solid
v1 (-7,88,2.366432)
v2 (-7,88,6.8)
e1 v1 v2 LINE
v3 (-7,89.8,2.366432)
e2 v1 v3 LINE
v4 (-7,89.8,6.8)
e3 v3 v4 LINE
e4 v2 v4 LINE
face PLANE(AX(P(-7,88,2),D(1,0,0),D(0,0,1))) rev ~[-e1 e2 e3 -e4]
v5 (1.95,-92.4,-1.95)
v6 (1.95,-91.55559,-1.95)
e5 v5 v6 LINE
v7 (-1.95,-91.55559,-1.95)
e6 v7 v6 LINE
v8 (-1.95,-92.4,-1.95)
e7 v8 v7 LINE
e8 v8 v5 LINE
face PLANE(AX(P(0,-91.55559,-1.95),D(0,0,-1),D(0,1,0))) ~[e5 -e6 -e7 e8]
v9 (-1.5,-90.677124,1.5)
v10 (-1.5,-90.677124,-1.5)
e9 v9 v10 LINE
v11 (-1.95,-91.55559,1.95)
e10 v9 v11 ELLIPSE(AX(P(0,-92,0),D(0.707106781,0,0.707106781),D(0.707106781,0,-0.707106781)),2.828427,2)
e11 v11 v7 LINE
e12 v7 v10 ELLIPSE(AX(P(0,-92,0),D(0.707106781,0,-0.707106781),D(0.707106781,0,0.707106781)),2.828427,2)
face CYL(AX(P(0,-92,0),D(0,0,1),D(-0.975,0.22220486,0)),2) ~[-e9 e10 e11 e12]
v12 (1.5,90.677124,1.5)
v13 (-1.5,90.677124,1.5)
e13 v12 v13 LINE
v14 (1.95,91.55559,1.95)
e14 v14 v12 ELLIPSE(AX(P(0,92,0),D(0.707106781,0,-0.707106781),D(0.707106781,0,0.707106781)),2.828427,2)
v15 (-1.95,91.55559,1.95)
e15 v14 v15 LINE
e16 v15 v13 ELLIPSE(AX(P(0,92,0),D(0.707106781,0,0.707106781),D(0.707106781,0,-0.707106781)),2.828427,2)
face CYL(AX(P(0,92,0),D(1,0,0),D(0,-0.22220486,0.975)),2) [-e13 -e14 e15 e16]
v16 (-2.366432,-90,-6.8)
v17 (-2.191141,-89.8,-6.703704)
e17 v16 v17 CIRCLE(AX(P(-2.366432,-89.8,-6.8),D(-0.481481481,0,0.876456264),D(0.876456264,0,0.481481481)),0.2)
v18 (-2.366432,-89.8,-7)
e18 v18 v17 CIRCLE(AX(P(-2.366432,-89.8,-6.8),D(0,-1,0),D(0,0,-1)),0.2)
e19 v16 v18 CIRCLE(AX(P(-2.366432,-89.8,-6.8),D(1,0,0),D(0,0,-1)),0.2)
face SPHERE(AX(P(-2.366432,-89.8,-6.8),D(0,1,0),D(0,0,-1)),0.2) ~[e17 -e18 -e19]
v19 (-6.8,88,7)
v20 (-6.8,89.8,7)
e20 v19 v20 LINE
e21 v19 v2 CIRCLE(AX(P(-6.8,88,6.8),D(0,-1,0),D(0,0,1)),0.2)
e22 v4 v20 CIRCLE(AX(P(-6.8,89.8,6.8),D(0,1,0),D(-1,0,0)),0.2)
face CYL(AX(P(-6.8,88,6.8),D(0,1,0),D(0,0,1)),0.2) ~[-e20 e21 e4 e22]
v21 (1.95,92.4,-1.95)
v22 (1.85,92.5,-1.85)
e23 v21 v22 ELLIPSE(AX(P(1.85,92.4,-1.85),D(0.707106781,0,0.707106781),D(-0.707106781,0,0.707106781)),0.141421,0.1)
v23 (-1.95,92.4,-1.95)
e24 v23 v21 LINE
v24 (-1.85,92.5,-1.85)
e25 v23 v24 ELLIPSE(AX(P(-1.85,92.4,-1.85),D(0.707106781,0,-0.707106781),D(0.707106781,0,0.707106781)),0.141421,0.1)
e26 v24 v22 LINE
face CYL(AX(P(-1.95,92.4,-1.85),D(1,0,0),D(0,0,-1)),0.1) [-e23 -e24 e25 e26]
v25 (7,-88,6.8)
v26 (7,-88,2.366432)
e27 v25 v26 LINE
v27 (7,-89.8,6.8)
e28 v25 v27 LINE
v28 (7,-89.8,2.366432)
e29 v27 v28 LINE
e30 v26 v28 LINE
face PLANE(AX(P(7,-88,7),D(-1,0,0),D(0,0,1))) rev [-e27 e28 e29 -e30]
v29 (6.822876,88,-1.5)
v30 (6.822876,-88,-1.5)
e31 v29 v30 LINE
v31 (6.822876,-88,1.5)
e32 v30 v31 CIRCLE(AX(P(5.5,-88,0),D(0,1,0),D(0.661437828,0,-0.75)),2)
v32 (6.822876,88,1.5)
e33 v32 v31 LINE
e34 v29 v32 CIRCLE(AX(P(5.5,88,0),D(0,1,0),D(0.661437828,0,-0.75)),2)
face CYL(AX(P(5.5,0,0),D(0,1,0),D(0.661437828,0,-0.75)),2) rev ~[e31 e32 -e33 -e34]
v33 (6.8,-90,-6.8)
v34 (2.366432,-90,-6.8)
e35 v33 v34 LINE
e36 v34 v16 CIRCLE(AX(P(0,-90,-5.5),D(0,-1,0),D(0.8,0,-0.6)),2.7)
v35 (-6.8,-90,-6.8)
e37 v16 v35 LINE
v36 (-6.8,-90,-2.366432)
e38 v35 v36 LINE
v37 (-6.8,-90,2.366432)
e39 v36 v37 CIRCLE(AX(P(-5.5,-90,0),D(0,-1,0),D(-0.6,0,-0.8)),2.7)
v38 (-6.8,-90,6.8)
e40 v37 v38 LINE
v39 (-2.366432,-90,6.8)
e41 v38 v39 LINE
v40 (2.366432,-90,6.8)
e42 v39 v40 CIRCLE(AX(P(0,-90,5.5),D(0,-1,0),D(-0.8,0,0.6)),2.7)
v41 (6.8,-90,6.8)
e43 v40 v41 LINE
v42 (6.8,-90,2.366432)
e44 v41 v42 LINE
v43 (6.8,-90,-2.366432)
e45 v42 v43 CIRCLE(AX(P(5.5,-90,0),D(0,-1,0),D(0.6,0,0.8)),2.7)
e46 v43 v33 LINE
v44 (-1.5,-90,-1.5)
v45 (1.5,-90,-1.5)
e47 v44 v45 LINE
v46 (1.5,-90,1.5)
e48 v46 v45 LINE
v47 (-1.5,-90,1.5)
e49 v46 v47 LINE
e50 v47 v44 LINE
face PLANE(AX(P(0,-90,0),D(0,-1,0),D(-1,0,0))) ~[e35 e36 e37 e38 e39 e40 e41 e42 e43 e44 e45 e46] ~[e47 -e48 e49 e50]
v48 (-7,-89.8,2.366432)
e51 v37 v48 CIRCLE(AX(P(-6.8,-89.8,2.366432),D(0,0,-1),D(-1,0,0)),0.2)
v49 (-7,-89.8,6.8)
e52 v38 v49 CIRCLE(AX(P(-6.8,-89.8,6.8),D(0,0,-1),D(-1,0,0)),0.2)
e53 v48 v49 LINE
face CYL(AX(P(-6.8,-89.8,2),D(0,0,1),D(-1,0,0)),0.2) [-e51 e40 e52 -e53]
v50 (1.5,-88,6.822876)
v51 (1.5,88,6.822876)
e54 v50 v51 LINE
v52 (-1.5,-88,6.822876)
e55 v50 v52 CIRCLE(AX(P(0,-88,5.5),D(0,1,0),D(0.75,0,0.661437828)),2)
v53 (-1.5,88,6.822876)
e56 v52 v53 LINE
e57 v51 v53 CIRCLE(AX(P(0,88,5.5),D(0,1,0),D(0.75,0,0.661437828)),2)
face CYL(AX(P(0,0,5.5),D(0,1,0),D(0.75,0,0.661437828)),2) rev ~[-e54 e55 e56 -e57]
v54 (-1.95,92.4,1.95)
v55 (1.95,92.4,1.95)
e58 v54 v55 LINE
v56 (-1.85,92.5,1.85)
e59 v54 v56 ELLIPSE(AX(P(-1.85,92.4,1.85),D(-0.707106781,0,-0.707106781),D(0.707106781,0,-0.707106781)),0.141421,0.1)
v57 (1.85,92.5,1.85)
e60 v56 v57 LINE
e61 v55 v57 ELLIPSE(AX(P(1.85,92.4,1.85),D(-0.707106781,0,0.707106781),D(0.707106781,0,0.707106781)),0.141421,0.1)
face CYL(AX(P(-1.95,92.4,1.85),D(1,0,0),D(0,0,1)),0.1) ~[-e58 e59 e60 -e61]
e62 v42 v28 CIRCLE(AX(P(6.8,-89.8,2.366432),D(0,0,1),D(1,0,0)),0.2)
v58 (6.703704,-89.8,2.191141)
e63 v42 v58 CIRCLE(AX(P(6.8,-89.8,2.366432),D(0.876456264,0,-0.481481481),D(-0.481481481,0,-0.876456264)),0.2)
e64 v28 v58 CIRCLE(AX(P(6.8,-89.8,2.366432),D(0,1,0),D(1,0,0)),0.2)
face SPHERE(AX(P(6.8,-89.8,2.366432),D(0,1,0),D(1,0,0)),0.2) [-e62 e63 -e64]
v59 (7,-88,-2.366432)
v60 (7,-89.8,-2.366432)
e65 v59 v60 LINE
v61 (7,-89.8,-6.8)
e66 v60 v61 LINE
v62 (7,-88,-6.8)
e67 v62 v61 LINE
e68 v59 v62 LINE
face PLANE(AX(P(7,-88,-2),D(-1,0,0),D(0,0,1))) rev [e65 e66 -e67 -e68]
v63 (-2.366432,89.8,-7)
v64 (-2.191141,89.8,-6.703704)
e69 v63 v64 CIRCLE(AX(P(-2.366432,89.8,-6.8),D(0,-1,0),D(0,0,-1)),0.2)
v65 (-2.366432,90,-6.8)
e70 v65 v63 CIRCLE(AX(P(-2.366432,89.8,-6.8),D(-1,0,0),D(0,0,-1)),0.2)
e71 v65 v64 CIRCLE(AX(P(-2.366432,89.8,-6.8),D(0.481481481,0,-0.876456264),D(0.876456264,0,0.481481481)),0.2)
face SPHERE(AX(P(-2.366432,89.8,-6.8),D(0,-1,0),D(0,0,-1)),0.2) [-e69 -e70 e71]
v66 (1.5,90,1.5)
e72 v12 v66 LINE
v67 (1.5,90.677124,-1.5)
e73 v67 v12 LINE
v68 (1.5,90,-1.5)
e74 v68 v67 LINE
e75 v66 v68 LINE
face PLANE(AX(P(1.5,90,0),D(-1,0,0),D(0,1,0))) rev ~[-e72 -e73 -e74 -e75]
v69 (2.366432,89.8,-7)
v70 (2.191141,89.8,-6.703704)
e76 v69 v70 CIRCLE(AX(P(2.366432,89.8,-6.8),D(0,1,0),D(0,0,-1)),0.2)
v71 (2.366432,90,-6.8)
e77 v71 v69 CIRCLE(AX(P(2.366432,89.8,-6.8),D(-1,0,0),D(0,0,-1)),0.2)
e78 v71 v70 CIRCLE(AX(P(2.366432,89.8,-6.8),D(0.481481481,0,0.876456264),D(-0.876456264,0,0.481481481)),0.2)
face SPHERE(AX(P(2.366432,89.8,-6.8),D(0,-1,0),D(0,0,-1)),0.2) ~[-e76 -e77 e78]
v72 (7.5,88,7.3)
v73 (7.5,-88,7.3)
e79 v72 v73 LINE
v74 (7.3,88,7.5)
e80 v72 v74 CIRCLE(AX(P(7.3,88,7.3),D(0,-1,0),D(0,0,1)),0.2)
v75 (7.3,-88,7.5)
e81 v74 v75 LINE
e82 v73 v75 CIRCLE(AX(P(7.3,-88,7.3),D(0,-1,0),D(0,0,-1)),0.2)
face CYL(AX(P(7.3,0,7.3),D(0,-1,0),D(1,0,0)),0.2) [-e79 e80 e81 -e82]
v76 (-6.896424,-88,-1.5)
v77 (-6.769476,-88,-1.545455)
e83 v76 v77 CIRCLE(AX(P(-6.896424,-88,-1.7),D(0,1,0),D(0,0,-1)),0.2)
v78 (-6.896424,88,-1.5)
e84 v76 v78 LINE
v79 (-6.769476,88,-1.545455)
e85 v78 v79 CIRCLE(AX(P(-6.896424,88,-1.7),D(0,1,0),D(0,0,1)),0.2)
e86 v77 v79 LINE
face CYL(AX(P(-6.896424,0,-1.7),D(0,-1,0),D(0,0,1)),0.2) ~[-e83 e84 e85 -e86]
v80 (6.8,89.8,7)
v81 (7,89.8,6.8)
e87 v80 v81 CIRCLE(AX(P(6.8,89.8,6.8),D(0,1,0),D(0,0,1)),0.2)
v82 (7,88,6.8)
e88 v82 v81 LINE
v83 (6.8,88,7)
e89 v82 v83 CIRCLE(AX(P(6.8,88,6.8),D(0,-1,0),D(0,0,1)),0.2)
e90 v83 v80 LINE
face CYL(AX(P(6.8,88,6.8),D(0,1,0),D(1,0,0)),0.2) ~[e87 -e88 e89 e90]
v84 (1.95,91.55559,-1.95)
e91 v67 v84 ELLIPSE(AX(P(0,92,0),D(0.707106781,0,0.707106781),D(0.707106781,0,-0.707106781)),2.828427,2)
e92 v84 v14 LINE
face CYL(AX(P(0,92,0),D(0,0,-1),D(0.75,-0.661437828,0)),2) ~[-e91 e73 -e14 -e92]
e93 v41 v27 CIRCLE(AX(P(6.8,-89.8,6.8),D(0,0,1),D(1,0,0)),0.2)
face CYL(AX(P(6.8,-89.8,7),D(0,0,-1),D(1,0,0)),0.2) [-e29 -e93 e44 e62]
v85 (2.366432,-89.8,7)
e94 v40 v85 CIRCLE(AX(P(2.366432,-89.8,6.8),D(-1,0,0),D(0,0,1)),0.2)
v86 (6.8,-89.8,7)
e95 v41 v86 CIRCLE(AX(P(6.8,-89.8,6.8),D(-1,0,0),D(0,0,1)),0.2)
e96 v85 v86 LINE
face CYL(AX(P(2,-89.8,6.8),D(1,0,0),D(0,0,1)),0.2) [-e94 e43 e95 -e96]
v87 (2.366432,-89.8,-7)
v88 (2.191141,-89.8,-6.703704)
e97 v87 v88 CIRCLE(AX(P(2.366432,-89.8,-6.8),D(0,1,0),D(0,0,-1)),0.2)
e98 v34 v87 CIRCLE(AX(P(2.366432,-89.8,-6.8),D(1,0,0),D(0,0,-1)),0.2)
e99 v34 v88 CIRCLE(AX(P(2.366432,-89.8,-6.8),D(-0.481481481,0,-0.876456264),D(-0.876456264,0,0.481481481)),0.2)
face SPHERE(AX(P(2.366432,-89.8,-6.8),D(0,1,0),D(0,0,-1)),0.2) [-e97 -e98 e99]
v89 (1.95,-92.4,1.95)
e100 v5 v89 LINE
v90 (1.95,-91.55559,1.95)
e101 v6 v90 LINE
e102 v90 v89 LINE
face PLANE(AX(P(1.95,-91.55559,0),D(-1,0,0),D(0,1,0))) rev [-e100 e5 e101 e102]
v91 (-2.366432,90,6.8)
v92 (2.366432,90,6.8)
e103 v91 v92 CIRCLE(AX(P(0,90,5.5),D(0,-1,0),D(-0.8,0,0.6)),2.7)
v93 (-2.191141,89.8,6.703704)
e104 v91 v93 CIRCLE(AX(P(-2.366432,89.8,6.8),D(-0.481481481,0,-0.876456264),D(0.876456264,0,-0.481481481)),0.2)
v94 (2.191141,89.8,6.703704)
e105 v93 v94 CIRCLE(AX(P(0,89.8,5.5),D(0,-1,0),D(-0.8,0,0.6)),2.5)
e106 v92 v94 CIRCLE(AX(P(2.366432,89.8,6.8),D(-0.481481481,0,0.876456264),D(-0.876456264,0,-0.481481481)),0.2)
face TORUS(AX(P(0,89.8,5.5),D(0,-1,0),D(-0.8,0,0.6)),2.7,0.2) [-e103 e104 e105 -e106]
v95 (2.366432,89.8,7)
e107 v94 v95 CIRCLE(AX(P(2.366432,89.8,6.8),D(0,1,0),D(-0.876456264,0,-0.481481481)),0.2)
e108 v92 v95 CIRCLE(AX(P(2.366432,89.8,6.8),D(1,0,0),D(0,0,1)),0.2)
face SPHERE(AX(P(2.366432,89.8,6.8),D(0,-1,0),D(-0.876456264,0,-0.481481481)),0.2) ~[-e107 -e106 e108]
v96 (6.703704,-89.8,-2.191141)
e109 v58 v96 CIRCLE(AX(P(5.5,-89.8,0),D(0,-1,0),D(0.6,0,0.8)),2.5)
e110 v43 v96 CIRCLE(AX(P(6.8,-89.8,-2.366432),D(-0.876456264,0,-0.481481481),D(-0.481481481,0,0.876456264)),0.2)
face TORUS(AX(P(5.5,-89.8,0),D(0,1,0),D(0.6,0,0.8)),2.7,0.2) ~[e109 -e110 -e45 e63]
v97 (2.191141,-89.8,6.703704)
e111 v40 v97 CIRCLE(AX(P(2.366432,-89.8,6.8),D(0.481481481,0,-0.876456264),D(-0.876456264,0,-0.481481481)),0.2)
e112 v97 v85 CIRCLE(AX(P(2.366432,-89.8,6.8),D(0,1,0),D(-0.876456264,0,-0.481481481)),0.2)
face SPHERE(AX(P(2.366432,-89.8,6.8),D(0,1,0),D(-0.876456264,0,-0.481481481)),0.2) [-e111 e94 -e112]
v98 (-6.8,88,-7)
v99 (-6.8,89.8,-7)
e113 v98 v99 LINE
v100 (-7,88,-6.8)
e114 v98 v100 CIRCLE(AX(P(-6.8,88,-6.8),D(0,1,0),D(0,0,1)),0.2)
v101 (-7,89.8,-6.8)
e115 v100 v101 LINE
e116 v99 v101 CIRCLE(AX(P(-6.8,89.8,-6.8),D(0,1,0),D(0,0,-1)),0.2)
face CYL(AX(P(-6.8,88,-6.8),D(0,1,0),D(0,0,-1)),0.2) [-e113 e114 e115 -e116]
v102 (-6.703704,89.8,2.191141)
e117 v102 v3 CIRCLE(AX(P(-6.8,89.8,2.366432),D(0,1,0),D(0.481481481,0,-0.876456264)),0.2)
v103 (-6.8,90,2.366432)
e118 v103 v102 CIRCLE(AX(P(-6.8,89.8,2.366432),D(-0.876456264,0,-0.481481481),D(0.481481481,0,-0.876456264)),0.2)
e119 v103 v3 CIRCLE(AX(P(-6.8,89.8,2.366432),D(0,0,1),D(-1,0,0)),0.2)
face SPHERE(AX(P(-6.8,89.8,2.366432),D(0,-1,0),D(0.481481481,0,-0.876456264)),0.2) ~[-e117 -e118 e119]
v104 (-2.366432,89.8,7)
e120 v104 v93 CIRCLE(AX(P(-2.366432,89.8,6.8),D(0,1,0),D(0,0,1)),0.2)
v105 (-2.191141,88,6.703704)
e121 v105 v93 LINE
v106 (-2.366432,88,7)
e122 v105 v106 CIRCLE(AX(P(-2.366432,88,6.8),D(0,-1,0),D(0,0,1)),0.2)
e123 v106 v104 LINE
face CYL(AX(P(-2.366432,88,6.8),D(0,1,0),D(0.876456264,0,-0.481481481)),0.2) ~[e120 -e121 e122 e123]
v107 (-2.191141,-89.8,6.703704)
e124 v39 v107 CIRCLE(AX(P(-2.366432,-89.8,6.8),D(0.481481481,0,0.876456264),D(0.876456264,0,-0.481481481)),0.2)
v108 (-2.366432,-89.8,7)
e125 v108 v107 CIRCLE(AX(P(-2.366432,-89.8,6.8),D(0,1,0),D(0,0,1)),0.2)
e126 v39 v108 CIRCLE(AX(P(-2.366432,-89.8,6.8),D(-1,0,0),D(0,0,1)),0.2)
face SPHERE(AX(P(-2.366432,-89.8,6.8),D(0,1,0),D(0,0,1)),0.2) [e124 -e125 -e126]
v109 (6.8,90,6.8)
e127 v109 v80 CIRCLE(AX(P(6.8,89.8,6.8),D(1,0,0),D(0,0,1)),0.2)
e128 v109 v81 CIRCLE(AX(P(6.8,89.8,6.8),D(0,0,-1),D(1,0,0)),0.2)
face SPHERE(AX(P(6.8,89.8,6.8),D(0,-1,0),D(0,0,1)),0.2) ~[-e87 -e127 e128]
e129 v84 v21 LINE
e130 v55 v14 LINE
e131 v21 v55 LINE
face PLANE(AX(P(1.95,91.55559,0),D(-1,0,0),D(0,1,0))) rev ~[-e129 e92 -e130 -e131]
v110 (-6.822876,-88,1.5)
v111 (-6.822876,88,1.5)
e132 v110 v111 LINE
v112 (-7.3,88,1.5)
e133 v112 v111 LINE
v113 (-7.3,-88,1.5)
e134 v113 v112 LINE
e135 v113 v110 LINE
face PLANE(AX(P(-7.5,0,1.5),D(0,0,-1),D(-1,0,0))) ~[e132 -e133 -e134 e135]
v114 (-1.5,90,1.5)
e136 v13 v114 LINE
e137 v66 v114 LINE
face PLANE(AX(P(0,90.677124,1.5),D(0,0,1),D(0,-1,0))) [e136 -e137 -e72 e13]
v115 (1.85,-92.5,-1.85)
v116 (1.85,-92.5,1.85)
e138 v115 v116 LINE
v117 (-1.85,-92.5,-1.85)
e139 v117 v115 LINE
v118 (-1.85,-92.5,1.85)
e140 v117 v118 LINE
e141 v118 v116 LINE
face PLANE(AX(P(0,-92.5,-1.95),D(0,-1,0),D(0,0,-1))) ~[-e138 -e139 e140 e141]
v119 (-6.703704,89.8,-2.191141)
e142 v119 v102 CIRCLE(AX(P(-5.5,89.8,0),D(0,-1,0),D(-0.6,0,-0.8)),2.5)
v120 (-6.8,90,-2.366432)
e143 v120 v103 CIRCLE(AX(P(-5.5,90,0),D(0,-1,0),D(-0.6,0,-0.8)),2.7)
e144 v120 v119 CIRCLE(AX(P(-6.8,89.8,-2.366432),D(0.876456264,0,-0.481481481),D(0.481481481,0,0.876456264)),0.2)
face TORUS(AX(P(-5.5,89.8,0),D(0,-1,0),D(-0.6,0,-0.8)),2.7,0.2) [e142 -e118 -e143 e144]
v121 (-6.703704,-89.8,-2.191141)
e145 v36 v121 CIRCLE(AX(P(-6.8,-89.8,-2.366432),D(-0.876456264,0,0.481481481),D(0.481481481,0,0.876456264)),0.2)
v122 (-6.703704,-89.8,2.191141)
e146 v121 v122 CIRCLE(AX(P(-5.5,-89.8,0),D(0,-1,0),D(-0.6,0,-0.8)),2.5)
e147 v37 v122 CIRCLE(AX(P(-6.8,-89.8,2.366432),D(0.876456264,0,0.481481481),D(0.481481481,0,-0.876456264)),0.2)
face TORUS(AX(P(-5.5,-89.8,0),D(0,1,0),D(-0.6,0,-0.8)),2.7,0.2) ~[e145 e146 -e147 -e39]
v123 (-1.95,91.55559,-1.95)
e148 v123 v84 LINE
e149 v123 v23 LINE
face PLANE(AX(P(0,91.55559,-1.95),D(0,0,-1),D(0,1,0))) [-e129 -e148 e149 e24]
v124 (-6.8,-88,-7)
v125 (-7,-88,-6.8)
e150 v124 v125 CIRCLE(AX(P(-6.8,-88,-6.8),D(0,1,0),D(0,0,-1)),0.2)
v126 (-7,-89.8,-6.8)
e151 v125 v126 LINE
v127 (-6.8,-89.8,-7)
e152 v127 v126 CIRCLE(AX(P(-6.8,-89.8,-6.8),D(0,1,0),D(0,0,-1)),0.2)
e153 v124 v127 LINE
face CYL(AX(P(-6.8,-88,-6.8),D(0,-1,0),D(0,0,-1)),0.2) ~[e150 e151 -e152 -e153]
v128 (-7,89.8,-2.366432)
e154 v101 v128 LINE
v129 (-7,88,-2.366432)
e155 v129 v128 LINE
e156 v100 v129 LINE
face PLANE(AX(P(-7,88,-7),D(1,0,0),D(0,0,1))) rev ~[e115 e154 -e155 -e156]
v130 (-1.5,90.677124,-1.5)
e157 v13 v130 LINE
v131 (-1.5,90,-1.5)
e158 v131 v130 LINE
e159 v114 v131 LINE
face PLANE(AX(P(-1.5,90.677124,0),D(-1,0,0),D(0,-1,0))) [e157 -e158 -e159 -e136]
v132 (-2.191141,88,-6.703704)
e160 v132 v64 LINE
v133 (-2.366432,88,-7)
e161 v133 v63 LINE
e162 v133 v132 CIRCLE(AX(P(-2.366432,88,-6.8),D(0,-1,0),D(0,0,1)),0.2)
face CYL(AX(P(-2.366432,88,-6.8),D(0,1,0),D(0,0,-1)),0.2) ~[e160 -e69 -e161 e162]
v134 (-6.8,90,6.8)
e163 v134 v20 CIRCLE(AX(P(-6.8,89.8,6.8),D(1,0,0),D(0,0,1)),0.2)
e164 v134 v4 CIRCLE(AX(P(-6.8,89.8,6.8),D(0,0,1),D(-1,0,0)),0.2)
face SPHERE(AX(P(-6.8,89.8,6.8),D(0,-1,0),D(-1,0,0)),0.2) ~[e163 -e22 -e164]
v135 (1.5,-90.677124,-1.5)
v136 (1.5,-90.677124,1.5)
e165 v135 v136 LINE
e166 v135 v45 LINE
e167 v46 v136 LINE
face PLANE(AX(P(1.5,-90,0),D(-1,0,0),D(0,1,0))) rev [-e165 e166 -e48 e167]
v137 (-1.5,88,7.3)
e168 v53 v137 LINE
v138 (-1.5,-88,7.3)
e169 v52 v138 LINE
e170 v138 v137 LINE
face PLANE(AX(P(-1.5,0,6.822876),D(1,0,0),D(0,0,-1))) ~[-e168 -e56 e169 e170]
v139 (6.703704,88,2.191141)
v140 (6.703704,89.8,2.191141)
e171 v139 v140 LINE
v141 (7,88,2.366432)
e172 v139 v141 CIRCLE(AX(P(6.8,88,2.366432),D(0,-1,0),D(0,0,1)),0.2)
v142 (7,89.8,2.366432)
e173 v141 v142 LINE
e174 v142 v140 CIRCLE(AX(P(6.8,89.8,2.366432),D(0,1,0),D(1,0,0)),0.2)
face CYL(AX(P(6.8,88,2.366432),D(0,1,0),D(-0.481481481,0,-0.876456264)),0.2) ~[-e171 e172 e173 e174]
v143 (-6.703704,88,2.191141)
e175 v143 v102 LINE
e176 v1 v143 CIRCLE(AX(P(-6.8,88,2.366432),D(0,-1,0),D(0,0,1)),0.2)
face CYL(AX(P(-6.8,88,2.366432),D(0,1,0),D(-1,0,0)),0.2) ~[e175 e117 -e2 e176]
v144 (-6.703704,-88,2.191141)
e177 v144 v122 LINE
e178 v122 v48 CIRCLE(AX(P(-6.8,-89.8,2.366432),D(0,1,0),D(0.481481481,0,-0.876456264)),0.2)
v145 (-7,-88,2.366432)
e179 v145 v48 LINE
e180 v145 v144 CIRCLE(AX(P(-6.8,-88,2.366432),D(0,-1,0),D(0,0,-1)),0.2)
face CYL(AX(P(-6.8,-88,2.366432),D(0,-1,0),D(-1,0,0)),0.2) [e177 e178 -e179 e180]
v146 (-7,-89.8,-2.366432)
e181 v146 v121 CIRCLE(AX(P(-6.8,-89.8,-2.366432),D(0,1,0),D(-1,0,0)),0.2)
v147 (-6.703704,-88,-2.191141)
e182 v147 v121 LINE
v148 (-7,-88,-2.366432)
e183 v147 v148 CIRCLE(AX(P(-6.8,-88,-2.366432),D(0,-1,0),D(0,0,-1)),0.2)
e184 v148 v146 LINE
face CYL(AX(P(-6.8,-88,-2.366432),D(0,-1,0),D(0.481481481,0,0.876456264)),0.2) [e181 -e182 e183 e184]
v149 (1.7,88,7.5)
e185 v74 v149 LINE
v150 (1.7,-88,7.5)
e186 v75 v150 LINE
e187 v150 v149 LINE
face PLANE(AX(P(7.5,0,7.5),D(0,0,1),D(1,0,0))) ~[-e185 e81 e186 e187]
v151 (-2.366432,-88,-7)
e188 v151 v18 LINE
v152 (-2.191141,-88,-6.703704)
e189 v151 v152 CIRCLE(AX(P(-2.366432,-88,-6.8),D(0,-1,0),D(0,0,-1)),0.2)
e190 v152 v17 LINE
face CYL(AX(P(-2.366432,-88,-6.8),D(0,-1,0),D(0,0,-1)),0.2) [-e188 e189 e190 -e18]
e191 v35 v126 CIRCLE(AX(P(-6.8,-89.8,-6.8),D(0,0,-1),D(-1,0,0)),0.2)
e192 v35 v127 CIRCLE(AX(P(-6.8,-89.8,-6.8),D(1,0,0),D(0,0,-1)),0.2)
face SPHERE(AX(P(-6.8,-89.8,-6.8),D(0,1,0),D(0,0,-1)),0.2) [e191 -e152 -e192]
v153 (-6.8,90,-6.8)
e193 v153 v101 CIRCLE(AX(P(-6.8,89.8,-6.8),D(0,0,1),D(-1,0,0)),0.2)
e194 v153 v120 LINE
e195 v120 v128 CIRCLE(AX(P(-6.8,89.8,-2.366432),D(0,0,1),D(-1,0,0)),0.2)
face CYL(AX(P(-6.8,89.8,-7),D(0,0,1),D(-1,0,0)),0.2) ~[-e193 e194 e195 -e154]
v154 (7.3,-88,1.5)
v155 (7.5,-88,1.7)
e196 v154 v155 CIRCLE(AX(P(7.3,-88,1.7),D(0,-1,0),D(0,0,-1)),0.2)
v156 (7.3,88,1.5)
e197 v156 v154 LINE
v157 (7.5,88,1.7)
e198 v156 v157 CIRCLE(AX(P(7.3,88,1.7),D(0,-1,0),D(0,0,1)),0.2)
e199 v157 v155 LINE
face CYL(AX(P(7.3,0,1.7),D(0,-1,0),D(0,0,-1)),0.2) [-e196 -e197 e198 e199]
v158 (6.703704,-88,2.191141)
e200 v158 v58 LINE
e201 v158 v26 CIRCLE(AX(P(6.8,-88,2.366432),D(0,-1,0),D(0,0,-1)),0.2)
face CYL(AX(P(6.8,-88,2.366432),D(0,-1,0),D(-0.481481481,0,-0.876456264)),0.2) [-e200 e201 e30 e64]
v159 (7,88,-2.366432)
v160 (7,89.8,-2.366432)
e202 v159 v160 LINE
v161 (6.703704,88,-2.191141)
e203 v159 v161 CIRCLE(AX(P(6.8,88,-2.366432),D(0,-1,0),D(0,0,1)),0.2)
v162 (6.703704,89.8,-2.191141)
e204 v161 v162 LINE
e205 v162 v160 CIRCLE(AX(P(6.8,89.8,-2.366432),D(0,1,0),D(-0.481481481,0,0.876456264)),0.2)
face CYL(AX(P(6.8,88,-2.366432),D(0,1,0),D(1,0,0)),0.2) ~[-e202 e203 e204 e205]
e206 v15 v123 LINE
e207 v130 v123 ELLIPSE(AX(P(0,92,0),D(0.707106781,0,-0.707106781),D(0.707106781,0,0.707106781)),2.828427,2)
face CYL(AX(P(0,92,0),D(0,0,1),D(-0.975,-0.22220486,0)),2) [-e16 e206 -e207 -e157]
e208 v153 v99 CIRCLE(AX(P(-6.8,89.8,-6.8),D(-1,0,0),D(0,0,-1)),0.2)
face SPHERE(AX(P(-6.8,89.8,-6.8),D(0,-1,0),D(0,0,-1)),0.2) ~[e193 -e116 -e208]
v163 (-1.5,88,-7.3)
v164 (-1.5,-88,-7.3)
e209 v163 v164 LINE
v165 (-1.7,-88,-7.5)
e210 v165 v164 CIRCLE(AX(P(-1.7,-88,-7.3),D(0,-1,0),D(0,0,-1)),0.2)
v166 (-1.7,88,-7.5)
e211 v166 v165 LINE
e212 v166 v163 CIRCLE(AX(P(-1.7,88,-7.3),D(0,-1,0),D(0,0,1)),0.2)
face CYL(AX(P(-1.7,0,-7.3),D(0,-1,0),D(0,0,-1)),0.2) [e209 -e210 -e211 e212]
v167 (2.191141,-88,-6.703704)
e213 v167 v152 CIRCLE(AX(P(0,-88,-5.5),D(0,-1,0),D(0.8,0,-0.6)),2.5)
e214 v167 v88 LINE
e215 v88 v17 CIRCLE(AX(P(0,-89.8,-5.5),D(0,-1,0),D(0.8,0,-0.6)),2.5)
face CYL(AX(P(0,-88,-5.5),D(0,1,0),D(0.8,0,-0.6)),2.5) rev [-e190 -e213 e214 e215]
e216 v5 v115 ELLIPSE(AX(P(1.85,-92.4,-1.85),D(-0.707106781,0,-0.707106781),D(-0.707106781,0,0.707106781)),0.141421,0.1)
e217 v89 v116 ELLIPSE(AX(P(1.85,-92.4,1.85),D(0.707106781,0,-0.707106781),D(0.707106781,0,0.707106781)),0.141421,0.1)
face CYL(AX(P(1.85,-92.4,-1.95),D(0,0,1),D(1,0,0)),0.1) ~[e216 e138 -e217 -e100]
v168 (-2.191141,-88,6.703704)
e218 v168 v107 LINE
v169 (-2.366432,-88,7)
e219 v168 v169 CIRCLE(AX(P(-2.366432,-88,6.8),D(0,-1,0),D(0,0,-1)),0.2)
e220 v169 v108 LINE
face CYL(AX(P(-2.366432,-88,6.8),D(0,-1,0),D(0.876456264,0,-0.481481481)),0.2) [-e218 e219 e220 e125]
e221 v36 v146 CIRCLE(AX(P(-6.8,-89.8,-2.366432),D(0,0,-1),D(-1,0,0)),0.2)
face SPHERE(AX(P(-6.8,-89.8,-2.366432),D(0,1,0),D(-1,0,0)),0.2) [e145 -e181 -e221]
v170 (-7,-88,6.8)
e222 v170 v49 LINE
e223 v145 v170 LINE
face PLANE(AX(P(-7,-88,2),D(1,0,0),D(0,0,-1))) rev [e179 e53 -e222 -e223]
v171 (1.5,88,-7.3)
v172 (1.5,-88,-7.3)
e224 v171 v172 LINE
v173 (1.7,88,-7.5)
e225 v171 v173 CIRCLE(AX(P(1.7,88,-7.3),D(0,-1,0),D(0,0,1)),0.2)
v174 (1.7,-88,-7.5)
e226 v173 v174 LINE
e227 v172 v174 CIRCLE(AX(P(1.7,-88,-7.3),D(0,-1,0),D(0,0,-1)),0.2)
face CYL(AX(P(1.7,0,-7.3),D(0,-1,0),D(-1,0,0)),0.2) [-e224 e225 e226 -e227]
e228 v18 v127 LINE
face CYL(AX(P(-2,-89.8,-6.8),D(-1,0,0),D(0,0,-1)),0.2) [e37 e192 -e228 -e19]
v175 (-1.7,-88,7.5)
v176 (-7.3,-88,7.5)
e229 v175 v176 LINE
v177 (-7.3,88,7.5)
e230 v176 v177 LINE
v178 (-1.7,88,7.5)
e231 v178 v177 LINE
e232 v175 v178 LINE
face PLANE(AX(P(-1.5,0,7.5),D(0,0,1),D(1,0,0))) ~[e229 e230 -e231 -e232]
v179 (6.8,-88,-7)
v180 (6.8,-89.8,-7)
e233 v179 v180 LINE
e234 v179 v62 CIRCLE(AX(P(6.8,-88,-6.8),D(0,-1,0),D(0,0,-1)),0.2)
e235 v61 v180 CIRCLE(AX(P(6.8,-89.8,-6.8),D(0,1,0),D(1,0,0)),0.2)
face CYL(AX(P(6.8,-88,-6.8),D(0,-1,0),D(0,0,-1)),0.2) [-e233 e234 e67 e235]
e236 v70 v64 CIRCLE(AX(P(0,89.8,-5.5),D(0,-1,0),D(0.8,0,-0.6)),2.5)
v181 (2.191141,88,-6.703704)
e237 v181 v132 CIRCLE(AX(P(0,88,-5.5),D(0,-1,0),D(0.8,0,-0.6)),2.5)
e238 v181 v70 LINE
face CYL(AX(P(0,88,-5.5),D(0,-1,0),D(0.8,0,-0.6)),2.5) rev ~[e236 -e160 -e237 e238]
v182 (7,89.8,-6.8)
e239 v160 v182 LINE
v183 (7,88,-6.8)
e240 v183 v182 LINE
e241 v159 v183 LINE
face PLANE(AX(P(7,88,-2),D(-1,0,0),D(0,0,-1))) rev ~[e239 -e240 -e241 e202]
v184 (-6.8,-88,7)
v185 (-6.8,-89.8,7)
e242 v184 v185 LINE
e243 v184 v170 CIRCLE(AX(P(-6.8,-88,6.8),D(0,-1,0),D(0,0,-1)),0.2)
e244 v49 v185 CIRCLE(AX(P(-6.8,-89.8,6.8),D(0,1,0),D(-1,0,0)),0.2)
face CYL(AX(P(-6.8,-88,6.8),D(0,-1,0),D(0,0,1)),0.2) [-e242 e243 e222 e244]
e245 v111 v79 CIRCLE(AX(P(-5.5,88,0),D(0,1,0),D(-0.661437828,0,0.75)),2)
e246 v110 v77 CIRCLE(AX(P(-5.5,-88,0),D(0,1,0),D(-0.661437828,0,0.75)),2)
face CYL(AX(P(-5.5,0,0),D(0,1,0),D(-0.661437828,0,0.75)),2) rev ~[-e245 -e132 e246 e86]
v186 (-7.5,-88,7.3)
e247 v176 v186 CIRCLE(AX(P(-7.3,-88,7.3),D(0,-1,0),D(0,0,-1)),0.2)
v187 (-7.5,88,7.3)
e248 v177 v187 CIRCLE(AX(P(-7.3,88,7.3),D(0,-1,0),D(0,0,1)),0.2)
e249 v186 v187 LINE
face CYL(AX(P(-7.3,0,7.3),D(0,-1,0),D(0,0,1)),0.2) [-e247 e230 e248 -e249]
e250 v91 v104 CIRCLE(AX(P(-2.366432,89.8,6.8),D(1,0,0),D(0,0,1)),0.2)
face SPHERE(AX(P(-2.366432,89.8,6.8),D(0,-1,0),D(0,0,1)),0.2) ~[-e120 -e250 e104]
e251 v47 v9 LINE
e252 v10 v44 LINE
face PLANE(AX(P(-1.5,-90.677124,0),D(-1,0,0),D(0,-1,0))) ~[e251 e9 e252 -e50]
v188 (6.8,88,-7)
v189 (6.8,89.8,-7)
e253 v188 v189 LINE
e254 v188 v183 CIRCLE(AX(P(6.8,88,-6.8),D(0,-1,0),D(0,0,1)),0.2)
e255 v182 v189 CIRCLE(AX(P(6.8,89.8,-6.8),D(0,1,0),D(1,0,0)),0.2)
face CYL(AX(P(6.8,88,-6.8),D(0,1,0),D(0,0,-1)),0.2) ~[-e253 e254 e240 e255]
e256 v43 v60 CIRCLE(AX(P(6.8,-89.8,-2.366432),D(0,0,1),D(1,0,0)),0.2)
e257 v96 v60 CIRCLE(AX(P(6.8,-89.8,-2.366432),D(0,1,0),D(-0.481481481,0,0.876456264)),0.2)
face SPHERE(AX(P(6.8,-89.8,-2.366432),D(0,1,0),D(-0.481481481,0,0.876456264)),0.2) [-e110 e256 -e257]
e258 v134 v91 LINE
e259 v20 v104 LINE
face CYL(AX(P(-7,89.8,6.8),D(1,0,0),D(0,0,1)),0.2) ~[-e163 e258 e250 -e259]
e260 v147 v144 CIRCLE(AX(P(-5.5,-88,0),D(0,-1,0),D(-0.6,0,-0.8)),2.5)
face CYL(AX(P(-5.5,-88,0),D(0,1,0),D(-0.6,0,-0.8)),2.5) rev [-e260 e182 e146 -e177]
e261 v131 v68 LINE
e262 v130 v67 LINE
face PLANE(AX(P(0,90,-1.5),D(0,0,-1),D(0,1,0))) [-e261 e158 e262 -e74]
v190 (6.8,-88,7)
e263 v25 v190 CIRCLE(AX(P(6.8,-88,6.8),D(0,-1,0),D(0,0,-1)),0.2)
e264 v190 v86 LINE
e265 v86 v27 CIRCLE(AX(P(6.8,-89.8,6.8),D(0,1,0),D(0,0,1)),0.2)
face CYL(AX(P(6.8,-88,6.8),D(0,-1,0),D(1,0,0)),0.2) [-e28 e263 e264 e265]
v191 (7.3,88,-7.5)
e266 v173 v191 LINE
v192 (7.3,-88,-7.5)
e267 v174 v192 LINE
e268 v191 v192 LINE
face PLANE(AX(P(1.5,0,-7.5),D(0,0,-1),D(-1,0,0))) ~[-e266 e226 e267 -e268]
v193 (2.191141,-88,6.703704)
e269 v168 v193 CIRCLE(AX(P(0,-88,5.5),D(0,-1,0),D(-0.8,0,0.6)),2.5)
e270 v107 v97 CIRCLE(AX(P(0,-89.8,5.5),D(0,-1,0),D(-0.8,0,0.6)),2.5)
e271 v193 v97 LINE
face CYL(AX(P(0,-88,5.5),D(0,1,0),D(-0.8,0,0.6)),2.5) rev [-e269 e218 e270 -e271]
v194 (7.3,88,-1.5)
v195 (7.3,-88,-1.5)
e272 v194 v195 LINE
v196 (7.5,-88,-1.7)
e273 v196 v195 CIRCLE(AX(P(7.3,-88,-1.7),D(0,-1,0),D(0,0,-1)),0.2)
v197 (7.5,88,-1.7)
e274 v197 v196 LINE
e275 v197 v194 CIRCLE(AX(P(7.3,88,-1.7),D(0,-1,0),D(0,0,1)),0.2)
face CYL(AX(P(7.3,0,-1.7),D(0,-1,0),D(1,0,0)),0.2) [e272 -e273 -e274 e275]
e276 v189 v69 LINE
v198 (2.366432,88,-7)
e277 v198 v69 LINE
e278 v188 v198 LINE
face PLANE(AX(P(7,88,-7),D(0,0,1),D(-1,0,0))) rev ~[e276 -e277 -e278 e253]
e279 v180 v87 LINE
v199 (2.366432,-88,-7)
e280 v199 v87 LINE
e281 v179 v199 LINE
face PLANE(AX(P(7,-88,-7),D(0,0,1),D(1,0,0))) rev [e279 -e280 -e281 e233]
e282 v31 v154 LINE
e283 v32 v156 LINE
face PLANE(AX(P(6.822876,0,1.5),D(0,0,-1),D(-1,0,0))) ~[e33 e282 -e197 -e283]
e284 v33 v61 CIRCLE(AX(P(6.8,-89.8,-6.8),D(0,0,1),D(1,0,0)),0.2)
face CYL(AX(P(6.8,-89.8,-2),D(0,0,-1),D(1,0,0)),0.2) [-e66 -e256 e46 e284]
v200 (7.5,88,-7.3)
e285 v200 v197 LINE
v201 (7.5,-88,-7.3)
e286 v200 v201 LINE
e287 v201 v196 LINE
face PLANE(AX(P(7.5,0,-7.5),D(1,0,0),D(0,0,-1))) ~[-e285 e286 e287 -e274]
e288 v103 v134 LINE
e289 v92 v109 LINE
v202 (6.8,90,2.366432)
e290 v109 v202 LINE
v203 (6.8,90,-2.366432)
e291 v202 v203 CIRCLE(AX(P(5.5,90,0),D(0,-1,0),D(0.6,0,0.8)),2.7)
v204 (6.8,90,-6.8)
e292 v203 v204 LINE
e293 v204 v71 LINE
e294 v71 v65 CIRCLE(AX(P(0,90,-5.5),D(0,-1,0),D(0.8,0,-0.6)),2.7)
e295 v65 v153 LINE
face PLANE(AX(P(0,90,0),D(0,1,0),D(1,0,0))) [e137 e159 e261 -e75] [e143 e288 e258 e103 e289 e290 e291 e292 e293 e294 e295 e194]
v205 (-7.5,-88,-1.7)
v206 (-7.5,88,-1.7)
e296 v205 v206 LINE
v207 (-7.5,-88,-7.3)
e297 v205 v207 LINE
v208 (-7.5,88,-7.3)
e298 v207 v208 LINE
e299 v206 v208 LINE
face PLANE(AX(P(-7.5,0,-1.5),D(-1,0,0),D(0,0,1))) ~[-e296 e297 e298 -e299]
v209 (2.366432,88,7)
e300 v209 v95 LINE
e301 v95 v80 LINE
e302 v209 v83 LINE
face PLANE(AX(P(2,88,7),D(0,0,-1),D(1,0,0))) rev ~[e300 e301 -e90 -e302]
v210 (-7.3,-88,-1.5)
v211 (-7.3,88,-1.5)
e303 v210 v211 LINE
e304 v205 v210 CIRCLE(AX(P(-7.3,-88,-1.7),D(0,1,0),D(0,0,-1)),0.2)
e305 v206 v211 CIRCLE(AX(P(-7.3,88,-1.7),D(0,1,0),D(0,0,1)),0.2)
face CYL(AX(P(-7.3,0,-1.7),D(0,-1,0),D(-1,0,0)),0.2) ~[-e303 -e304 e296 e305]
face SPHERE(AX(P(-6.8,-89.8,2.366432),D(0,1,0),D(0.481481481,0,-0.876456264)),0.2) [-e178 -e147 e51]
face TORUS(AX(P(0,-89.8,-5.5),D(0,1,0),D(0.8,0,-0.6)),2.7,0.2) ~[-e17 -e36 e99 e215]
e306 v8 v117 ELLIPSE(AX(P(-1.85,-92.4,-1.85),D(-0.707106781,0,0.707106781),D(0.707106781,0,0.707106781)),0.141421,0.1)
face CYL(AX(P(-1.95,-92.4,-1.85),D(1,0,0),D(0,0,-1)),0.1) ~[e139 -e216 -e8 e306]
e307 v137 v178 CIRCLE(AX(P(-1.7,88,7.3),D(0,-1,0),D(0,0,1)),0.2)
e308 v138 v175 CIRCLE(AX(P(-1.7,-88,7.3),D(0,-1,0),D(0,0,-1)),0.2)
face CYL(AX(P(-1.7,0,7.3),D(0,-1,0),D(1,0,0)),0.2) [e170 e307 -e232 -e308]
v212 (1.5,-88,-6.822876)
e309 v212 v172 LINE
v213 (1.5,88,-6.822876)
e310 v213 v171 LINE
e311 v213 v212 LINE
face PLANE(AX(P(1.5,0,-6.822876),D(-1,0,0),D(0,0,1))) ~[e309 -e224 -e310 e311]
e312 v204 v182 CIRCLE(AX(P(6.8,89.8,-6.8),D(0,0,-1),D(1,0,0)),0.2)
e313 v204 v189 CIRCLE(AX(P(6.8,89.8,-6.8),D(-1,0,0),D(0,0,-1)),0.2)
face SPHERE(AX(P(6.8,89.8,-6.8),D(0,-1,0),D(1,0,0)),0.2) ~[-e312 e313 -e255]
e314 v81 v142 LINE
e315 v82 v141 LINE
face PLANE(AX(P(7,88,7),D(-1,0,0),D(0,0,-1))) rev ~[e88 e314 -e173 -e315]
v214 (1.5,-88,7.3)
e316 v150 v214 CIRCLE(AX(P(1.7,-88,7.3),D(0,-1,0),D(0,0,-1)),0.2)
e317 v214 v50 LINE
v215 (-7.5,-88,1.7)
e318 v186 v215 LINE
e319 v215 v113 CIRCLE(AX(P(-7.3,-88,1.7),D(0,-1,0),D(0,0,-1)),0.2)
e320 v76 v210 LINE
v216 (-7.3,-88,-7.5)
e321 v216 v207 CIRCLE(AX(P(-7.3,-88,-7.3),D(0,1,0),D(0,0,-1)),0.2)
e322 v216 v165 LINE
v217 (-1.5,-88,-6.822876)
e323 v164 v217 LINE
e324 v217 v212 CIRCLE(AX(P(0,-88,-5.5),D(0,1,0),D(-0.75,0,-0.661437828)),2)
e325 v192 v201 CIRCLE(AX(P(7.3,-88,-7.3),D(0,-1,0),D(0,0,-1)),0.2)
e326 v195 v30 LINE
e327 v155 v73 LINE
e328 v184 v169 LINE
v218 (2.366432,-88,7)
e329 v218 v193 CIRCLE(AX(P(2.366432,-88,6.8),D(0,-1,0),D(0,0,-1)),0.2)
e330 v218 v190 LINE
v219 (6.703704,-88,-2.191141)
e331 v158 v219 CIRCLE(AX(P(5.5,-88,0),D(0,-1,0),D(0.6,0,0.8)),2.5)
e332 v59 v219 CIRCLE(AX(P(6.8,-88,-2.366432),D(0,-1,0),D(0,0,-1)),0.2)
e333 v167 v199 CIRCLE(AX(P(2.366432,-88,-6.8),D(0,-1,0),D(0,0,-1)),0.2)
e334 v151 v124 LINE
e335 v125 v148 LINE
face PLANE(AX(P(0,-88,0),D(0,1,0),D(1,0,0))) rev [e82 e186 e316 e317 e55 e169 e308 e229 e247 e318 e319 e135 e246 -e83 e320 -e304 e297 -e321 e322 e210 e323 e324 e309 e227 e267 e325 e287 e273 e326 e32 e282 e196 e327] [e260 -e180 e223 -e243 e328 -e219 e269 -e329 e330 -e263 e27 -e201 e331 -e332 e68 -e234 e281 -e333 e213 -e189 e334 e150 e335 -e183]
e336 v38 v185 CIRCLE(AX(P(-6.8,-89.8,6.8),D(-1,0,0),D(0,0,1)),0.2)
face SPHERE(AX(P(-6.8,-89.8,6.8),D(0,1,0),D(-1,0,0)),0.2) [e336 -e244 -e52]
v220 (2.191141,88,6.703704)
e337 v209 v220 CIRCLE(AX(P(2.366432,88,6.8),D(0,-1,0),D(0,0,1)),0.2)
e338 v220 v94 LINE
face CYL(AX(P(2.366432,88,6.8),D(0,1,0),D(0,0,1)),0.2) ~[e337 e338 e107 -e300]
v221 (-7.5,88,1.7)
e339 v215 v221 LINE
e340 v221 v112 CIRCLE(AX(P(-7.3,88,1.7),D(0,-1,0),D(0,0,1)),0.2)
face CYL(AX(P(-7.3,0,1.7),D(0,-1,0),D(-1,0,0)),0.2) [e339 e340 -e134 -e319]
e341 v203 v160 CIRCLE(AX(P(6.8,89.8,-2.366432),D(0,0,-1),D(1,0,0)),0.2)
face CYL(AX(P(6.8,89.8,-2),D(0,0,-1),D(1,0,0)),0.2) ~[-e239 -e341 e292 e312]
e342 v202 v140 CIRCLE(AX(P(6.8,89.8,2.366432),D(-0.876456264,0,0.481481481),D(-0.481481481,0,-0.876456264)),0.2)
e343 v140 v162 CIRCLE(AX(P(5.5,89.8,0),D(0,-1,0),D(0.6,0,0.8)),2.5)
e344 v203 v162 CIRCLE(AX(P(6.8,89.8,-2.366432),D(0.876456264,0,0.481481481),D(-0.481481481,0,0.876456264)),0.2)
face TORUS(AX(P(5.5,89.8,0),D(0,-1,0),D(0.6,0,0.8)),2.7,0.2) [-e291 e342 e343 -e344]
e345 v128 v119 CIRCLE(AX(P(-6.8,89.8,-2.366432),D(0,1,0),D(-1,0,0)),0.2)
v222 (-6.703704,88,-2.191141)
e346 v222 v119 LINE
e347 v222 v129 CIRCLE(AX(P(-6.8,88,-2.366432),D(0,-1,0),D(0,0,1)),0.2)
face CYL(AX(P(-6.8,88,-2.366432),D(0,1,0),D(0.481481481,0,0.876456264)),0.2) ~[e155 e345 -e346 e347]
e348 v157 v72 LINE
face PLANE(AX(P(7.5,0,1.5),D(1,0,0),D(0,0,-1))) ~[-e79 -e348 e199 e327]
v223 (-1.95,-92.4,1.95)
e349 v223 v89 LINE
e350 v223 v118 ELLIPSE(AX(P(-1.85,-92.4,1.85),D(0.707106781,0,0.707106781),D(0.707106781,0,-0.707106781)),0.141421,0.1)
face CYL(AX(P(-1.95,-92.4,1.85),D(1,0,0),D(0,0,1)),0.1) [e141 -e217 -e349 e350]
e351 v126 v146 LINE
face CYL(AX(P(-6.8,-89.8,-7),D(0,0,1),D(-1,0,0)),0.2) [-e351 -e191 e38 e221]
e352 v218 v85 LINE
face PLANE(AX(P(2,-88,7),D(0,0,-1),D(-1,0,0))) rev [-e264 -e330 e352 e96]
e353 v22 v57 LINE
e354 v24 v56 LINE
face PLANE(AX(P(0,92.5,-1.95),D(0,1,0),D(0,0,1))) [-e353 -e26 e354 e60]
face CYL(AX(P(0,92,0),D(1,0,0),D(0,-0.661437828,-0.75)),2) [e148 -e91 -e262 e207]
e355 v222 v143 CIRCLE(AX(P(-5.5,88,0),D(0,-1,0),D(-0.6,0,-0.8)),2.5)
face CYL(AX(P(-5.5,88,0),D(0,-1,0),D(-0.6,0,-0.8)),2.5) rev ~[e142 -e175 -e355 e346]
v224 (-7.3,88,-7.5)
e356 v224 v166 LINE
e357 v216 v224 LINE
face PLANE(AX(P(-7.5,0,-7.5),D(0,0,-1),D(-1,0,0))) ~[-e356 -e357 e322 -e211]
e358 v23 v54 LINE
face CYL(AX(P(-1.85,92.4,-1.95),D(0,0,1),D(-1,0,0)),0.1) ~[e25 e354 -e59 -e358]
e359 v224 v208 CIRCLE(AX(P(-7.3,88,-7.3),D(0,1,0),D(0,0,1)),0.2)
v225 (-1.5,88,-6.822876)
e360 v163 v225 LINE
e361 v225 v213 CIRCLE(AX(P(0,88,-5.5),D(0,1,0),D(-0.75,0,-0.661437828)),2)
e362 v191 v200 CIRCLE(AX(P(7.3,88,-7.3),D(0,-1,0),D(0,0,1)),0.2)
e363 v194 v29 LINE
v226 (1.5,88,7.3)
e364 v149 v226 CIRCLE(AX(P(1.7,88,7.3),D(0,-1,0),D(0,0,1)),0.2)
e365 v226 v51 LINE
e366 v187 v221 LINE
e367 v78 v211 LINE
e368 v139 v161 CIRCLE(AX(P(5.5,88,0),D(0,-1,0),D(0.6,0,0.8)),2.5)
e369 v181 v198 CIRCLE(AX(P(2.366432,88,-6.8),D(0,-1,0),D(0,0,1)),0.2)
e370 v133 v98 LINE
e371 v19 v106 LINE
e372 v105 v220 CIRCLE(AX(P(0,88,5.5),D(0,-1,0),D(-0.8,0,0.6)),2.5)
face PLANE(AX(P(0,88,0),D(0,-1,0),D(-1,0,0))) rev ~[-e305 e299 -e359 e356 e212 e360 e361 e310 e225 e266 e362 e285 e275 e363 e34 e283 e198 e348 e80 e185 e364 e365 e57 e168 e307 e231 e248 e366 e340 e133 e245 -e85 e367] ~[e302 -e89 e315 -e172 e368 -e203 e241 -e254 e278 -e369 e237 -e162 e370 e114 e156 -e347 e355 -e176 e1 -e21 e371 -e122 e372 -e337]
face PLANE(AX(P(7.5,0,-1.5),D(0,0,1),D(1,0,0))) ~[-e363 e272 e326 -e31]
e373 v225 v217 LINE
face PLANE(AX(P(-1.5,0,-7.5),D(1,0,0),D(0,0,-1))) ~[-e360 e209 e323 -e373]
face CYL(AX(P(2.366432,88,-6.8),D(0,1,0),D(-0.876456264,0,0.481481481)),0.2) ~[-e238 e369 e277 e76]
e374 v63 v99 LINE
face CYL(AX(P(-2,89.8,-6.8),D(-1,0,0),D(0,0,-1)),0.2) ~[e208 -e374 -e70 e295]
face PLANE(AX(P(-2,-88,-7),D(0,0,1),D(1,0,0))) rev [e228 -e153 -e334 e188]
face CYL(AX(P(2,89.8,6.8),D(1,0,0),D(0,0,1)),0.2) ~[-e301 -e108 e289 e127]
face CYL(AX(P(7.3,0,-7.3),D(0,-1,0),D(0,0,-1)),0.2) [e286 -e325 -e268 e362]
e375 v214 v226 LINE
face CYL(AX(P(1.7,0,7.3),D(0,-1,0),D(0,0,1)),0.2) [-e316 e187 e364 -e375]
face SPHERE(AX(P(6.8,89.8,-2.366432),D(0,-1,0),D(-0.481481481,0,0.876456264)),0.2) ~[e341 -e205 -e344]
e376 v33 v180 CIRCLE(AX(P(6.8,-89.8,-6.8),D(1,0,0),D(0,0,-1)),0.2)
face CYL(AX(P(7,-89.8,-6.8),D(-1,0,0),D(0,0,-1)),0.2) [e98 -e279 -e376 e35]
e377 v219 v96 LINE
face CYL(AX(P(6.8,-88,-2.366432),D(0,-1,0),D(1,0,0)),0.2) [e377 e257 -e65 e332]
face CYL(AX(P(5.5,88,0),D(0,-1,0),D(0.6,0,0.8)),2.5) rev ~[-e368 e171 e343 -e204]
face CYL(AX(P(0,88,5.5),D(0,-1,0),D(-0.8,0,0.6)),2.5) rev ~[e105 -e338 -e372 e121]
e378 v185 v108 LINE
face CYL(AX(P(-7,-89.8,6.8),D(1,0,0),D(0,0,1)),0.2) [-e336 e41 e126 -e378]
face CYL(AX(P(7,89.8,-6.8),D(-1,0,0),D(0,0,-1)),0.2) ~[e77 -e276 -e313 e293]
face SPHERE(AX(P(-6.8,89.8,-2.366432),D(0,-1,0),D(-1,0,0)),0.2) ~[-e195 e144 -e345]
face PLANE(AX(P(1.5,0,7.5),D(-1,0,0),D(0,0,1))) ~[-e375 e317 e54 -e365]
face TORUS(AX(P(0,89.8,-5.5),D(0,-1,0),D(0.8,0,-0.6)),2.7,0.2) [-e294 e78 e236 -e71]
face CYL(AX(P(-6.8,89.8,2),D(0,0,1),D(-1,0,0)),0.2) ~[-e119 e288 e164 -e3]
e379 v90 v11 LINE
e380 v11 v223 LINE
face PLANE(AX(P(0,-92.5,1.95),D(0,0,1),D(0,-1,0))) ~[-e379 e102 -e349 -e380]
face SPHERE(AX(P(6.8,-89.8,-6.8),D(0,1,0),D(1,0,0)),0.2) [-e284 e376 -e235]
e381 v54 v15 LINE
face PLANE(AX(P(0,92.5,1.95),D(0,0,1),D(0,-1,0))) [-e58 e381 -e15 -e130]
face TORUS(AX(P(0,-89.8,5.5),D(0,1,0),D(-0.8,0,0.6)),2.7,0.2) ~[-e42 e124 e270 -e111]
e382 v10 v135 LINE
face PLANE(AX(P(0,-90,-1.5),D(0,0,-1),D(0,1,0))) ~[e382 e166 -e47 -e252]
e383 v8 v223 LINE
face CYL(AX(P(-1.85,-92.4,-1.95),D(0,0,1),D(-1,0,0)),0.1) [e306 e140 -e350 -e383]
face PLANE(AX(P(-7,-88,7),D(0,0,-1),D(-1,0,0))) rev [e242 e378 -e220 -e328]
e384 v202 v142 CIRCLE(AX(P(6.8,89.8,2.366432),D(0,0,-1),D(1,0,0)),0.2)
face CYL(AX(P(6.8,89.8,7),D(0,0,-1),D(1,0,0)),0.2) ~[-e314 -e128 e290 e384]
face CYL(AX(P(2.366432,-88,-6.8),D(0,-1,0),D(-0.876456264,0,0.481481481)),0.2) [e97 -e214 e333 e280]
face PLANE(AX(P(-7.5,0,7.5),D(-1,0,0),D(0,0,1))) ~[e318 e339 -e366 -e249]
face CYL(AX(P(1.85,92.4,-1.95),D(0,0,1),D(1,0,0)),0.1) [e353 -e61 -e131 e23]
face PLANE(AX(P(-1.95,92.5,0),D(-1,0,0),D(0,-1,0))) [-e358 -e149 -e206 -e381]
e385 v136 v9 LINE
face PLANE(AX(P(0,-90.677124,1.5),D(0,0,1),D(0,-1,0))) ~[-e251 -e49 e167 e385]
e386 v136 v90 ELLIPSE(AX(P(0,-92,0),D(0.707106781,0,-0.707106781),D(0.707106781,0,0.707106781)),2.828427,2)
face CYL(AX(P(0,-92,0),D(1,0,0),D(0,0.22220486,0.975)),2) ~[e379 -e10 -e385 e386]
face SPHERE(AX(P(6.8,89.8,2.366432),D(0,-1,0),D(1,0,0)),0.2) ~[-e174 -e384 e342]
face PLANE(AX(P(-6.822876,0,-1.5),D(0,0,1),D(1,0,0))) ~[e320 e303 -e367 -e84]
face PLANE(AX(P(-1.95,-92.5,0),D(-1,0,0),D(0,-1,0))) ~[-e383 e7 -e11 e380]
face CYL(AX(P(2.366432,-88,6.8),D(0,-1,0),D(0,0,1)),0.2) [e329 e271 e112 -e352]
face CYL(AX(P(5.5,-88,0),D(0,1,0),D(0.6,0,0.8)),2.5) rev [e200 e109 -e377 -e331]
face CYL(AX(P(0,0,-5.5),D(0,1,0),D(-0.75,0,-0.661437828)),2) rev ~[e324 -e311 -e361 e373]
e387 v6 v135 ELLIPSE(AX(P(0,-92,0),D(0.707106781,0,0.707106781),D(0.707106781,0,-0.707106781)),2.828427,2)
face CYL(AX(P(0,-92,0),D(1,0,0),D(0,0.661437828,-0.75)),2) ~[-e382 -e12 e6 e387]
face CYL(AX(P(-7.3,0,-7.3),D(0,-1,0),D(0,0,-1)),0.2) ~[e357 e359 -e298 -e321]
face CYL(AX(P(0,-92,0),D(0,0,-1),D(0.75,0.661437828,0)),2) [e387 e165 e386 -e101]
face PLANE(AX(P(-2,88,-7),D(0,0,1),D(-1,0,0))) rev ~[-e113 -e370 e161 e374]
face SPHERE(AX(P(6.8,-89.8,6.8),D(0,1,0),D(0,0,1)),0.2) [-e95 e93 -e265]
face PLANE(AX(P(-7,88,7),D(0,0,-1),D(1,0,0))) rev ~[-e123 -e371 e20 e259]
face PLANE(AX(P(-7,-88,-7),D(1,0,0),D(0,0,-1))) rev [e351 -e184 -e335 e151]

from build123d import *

# Parameters (mm, degrees)
EXTRUDE_1_DEPTH        = 88
EXTRUDE_2_DEPTH        = 2
EXTRUDE_3_DEPTH        = 2
FILLET_3_R             = 0.2
CUT_EXTRUDE_1_DEPTH    = 3
FILLET_4_R             = 0.2
FILLET_5_R             = 0.1
FILLET_3_OF_MIRROR_1_R = 0.2
FILLET_4_OF_MIRROR_1_R = 0.2
FILLET_5_OF_MIRROR_1_R = 0.1


with BuildPart() as part:
    # 草图1 → 凸台-拉伸1 (new body)
    with BuildSketch(Plane(origin=(0, 0, 0), x_dir=(1, 0, 0), z_dir=(0, 1, 0))):
        with BuildLine():
            Line((-7.5, 7.5), (-1.5, 7.5))
            Line((-1.5, 7.5), (-1.5, 6.822875656))
            ThreePointArc((-1.5, 6.822875656), (0, 3.5), (1.5, 6.822875656))
            Line((1.5, 6.822875656), (1.5, 7.5))
            Line((1.5, 7.5), (7.5, 7.5))
            Line((7.5, 7.5), (7.5, 1.5))
            Line((7.5, 1.5), (6.822875656, 1.5))
            ThreePointArc((6.822875656, 1.5), (3.5, 0), (6.822875656, -1.5))
            Line((6.822875656, -1.5), (7.5, -1.5))
            Line((7.5, -1.5), (7.5, -7.5))
            Line((7.5, -7.5), (1.5, -7.5))
            Line((1.5, -7.5), (1.5, -6.822875656))
            ThreePointArc((1.5, -6.822875656), (0, -3.5), (-1.5, -6.822875656))
            Line((-1.5, -6.822875656), (-1.5, -7.5))
            Line((-1.5, -7.5), (-7.5, -7.5))
            Line((-7.5, -7.5), (-7.5, -1.5))
            Line((-7.5, -1.5), (-6.822875656, -1.5))
            ThreePointArc((-6.822875656, -1.5), (-3.5, 0), (-6.822875656, 1.5))
            Line((-6.822875656, 1.5), (-7.5, 1.5))
            Line((-7.5, 1.5), (-7.5, 7.5))
        make_face()
    extrude_1 = extrude(amount=EXTRUDE_1_DEPTH)

    # 草图2 → 凸台-拉伸2 (add)
    with BuildSketch(Plane(origin=(0, 88, 0), x_dir=(1, 0, 0), z_dir=(0, 1, 0))):
        with BuildLine():
            Line((-7, 7), (-7, 2))
            ThreePointArc((-7, 2), (-3, 0), (-7, -2))
            Line((-7, -2), (-7, -7))
            Line((-7, -7), (-2, -7))
            ThreePointArc((-2, -7), (0, -3), (2, -7))
            Line((2, -7), (7, -7))
            Line((7, -7), (7, -2))
            ThreePointArc((7, -2), (3, 0), (7, 2))
            Line((7, 2), (7, 7))
            Line((7, 7), (2, 7))
            ThreePointArc((2, 7), (0, 3), (-2, 7))
            Line((-2, 7), (-7, 7))
        make_face()
    extrude_2 = extrude(amount=EXTRUDE_2_DEPTH)

    # 草图3 → 凸台-拉伸3 (add, symmetric)
    with BuildSketch(Plane(origin=(0, 0, 0), x_dir=(0, 0, -1), z_dir=(1, 0, 0))):
        with BuildLine():
            Line((-1.5, 90), (1.5, 90))
            Line((1.5, 90), (1.5, 90.677124344))
            ThreePointArc((1.5, 90.677124344), (1.780042303, 91.088161527), (1.95, 91.555590279))
            Line((1.95, 91.555590279), (1.95, 92.5))
            Line((1.95, 92.5), (-1.95, 92.5))
            Line((-1.95, 92.5), (-1.95, 91.555590279))
            ThreePointArc((-1.95, 91.555590279), (-1.780042303, 91.088161527), (-1.5, 90.677124344))
            Line((-1.5, 90.677124344), (-1.5, 90))
        make_face()
    extrude_3 = extrude(amount=EXTRUDE_3_DEPTH, both=True)

    # 圆角3
    fillet_3_edges = [part.edges().sort_by_distance(p)[0] for p in [
        (-7.5, 44, -7.5),
        (-1.5, 44, -7.5),
        (1.5, 44, -7.5),
        (7.5, 44, -7.5),
        (7.5, 44, -1.5),
        (7.5, 44, 1.5),
        (7.5, 44, 7.5),
        (1.5, 44, 7.5),
        (-1.5, 44, 7.5),
        (-7.5, 44, 7.5),
        (-7.5, 44, 1.5),
        (-6.822875656, 44, -1.5),
        (-7.5, 44, -1.5),
    ]]
    fillet(fillet_3_edges, radius=FILLET_3_R)

    # 草图4 → 切除-拉伸1 (cut, symmetric)
    with BuildSketch(Plane.XY):
        with BuildLine():
            Line((1.95, 92.5), (2, 92.5))
            Line((2, 92.5), (2, 90))
            Line((2, 90), (1.5, 90))
            Line((1.5, 90), (1.5, 90.677124344))
            ThreePointArc((1.5, 90.677124344), (1.780042303, 91.088161527), (1.95, 91.555590279))
            Line((1.95, 91.555590279), (1.95, 92.5))
        make_face()
        with BuildLine():
            Line((-1.95, 92.5), (-1.95, 91.555590279))
            ThreePointArc((-1.95, 91.555590279), (-1.780042303, 91.088161527), (-1.5, 90.677124344))
            Line((-1.5, 90.677124344), (-1.5, 90))
            Line((-1.5, 90), (-2, 90))
            Line((-2, 90), (-2, 92.5))
            Line((-2, 92.5), (-1.95, 92.5))
        make_face()
    cut_extrude_1 = extrude(amount=CUT_EXTRUDE_1_DEPTH, both=True, mode=Mode.SUBTRACT)

    # 圆角4
    fillet_4_edges = [part.edges().sort_by_distance(p)[0] for p in [
        (-2, 89, -7),
        (-7, 89, -7),
        (-7, 89, -2),
        (-7, 89, 2),
        (-7, 89, 7),
        (-2, 89, 7),
        (2, 89, 7),
        (7, 89, 7),
        (7, 89, 2),
        (7, 89, -2),
        (7, 89, -7),
        (2, 89, -7),
        (-4.5, 90, -7),
        (-7, 90, -4.5),
        (-3, 90, 0),
        (-7, 90, 4.5),
        (-4.5, 90, 7),
        (0, 90, 3),
        (4.5, 90, 7),
        (7, 90, 4.5),
        (3, 90, 0),
        (7, 90, -4.5),
        (4.5, 90, -7),
        (0, 90, -3),
    ]]
    fillet(fillet_4_edges, radius=FILLET_4_R)

    # 圆角5
    fillet_5_edges = [part.edges().sort_by_distance(p)[0] for p in [
        (1.95, 92.5, 0),
        (0, 92.5, -1.95),
        (0, 92.5, 1.95),
        (-1.95, 92.5, 0),
    ]]
    fillet(fillet_5_edges, radius=FILLET_5_R)


with BuildPart() as mirror_1_1:
    # 镜向1: 凸台-拉伸1, 凸台-拉伸2, 凸台-拉伸3 across Top Plane
    add(extrude_1.mirror(Plane(origin=(0, 0, 0), x_dir=(1, 0, 0), z_dir=(0, 1, 0))))
    add(extrude_2.mirror(Plane(origin=(0, 0, 0), x_dir=(1, 0, 0), z_dir=(0, 1, 0))))
    add(extrude_3.mirror(Plane(origin=(0, 0, 0), x_dir=(1, 0, 0), z_dir=(0, 1, 0))))

    # Mirror 1 2: 切除-拉伸1 across Top Plane
    add(cut_extrude_1.mirror(Plane(origin=(0, 0, 0), x_dir=(1, 0, 0), z_dir=(0, 1, 0))), mode=Mode.SUBTRACT)

    # 圆角3 of 镜向1
    fillet_3_of_mirror_1_edges = [mirror_1_1.edges().sort_by_distance(p)[0] for p in [
        (-7.5, -44, -7.5),
        (-1.5, -44, -7.5),
        (1.5, -44, -7.5),
        (7.5, -44, -7.5),
        (7.5, -44, -1.5),
        (7.5, -44, 1.5),
        (7.5, -44, 7.5),
        (1.5, -44, 7.5),
        (-1.5, -44, 7.5),
        (-7.5, -44, 7.5),
        (-7.5, -44, 1.5),
        (-6.822875656, -44, -1.5),
        (-7.5, -44, -1.5),
    ]]
    fillet(fillet_3_of_mirror_1_edges, radius=FILLET_3_OF_MIRROR_1_R)

    # 圆角4 of 镜向1
    fillet_4_of_mirror_1_edges = [mirror_1_1.edges().sort_by_distance(p)[0] for p in [
        (-2, -89, -7),
        (-7, -89, -7),
        (-7, -89, -2),
        (-7, -89, 2),
        (-7, -89, 7),
        (-2, -89, 7),
        (2, -89, 7),
        (7, -89, 7),
        (7, -89, 2),
        (7, -89, -2),
        (7, -89, -7),
        (2, -89, -7),
        (-4.5, -90, -7),
        (-7, -90, -4.5),
        (-3, -90, 0),
        (-7, -90, 4.5),
        (-4.5, -90, 7),
        (0, -90, 3),
        (4.5, -90, 7),
        (7, -90, 4.5),
        (3, -90, 0),
        (7, -90, -4.5),
        (4.5, -90, -7),
        (0, -90, -3),
    ]]
    fillet(fillet_4_of_mirror_1_edges, radius=FILLET_4_OF_MIRROR_1_R)

    # 圆角5 of 镜向1
    fillet_5_of_mirror_1_edges = [mirror_1_1.edges().sort_by_distance(p)[0] for p in [
        (1.95, -92.5, 0),
        (0, -92.5, -1.95),
        (0, -92.5, 1.95),
        (-1.95, -92.5, 0),
    ]]
    fillet(fillet_5_of_mirror_1_edges, radius=FILLET_5_OF_MIRROR_1_R)


with BuildPart() as part_1:
    add(part.part)

    # 镜向1 united with what the copies tou: union 镜向1_1
    add(mirror_1_1.part)


solid = part_1.part
